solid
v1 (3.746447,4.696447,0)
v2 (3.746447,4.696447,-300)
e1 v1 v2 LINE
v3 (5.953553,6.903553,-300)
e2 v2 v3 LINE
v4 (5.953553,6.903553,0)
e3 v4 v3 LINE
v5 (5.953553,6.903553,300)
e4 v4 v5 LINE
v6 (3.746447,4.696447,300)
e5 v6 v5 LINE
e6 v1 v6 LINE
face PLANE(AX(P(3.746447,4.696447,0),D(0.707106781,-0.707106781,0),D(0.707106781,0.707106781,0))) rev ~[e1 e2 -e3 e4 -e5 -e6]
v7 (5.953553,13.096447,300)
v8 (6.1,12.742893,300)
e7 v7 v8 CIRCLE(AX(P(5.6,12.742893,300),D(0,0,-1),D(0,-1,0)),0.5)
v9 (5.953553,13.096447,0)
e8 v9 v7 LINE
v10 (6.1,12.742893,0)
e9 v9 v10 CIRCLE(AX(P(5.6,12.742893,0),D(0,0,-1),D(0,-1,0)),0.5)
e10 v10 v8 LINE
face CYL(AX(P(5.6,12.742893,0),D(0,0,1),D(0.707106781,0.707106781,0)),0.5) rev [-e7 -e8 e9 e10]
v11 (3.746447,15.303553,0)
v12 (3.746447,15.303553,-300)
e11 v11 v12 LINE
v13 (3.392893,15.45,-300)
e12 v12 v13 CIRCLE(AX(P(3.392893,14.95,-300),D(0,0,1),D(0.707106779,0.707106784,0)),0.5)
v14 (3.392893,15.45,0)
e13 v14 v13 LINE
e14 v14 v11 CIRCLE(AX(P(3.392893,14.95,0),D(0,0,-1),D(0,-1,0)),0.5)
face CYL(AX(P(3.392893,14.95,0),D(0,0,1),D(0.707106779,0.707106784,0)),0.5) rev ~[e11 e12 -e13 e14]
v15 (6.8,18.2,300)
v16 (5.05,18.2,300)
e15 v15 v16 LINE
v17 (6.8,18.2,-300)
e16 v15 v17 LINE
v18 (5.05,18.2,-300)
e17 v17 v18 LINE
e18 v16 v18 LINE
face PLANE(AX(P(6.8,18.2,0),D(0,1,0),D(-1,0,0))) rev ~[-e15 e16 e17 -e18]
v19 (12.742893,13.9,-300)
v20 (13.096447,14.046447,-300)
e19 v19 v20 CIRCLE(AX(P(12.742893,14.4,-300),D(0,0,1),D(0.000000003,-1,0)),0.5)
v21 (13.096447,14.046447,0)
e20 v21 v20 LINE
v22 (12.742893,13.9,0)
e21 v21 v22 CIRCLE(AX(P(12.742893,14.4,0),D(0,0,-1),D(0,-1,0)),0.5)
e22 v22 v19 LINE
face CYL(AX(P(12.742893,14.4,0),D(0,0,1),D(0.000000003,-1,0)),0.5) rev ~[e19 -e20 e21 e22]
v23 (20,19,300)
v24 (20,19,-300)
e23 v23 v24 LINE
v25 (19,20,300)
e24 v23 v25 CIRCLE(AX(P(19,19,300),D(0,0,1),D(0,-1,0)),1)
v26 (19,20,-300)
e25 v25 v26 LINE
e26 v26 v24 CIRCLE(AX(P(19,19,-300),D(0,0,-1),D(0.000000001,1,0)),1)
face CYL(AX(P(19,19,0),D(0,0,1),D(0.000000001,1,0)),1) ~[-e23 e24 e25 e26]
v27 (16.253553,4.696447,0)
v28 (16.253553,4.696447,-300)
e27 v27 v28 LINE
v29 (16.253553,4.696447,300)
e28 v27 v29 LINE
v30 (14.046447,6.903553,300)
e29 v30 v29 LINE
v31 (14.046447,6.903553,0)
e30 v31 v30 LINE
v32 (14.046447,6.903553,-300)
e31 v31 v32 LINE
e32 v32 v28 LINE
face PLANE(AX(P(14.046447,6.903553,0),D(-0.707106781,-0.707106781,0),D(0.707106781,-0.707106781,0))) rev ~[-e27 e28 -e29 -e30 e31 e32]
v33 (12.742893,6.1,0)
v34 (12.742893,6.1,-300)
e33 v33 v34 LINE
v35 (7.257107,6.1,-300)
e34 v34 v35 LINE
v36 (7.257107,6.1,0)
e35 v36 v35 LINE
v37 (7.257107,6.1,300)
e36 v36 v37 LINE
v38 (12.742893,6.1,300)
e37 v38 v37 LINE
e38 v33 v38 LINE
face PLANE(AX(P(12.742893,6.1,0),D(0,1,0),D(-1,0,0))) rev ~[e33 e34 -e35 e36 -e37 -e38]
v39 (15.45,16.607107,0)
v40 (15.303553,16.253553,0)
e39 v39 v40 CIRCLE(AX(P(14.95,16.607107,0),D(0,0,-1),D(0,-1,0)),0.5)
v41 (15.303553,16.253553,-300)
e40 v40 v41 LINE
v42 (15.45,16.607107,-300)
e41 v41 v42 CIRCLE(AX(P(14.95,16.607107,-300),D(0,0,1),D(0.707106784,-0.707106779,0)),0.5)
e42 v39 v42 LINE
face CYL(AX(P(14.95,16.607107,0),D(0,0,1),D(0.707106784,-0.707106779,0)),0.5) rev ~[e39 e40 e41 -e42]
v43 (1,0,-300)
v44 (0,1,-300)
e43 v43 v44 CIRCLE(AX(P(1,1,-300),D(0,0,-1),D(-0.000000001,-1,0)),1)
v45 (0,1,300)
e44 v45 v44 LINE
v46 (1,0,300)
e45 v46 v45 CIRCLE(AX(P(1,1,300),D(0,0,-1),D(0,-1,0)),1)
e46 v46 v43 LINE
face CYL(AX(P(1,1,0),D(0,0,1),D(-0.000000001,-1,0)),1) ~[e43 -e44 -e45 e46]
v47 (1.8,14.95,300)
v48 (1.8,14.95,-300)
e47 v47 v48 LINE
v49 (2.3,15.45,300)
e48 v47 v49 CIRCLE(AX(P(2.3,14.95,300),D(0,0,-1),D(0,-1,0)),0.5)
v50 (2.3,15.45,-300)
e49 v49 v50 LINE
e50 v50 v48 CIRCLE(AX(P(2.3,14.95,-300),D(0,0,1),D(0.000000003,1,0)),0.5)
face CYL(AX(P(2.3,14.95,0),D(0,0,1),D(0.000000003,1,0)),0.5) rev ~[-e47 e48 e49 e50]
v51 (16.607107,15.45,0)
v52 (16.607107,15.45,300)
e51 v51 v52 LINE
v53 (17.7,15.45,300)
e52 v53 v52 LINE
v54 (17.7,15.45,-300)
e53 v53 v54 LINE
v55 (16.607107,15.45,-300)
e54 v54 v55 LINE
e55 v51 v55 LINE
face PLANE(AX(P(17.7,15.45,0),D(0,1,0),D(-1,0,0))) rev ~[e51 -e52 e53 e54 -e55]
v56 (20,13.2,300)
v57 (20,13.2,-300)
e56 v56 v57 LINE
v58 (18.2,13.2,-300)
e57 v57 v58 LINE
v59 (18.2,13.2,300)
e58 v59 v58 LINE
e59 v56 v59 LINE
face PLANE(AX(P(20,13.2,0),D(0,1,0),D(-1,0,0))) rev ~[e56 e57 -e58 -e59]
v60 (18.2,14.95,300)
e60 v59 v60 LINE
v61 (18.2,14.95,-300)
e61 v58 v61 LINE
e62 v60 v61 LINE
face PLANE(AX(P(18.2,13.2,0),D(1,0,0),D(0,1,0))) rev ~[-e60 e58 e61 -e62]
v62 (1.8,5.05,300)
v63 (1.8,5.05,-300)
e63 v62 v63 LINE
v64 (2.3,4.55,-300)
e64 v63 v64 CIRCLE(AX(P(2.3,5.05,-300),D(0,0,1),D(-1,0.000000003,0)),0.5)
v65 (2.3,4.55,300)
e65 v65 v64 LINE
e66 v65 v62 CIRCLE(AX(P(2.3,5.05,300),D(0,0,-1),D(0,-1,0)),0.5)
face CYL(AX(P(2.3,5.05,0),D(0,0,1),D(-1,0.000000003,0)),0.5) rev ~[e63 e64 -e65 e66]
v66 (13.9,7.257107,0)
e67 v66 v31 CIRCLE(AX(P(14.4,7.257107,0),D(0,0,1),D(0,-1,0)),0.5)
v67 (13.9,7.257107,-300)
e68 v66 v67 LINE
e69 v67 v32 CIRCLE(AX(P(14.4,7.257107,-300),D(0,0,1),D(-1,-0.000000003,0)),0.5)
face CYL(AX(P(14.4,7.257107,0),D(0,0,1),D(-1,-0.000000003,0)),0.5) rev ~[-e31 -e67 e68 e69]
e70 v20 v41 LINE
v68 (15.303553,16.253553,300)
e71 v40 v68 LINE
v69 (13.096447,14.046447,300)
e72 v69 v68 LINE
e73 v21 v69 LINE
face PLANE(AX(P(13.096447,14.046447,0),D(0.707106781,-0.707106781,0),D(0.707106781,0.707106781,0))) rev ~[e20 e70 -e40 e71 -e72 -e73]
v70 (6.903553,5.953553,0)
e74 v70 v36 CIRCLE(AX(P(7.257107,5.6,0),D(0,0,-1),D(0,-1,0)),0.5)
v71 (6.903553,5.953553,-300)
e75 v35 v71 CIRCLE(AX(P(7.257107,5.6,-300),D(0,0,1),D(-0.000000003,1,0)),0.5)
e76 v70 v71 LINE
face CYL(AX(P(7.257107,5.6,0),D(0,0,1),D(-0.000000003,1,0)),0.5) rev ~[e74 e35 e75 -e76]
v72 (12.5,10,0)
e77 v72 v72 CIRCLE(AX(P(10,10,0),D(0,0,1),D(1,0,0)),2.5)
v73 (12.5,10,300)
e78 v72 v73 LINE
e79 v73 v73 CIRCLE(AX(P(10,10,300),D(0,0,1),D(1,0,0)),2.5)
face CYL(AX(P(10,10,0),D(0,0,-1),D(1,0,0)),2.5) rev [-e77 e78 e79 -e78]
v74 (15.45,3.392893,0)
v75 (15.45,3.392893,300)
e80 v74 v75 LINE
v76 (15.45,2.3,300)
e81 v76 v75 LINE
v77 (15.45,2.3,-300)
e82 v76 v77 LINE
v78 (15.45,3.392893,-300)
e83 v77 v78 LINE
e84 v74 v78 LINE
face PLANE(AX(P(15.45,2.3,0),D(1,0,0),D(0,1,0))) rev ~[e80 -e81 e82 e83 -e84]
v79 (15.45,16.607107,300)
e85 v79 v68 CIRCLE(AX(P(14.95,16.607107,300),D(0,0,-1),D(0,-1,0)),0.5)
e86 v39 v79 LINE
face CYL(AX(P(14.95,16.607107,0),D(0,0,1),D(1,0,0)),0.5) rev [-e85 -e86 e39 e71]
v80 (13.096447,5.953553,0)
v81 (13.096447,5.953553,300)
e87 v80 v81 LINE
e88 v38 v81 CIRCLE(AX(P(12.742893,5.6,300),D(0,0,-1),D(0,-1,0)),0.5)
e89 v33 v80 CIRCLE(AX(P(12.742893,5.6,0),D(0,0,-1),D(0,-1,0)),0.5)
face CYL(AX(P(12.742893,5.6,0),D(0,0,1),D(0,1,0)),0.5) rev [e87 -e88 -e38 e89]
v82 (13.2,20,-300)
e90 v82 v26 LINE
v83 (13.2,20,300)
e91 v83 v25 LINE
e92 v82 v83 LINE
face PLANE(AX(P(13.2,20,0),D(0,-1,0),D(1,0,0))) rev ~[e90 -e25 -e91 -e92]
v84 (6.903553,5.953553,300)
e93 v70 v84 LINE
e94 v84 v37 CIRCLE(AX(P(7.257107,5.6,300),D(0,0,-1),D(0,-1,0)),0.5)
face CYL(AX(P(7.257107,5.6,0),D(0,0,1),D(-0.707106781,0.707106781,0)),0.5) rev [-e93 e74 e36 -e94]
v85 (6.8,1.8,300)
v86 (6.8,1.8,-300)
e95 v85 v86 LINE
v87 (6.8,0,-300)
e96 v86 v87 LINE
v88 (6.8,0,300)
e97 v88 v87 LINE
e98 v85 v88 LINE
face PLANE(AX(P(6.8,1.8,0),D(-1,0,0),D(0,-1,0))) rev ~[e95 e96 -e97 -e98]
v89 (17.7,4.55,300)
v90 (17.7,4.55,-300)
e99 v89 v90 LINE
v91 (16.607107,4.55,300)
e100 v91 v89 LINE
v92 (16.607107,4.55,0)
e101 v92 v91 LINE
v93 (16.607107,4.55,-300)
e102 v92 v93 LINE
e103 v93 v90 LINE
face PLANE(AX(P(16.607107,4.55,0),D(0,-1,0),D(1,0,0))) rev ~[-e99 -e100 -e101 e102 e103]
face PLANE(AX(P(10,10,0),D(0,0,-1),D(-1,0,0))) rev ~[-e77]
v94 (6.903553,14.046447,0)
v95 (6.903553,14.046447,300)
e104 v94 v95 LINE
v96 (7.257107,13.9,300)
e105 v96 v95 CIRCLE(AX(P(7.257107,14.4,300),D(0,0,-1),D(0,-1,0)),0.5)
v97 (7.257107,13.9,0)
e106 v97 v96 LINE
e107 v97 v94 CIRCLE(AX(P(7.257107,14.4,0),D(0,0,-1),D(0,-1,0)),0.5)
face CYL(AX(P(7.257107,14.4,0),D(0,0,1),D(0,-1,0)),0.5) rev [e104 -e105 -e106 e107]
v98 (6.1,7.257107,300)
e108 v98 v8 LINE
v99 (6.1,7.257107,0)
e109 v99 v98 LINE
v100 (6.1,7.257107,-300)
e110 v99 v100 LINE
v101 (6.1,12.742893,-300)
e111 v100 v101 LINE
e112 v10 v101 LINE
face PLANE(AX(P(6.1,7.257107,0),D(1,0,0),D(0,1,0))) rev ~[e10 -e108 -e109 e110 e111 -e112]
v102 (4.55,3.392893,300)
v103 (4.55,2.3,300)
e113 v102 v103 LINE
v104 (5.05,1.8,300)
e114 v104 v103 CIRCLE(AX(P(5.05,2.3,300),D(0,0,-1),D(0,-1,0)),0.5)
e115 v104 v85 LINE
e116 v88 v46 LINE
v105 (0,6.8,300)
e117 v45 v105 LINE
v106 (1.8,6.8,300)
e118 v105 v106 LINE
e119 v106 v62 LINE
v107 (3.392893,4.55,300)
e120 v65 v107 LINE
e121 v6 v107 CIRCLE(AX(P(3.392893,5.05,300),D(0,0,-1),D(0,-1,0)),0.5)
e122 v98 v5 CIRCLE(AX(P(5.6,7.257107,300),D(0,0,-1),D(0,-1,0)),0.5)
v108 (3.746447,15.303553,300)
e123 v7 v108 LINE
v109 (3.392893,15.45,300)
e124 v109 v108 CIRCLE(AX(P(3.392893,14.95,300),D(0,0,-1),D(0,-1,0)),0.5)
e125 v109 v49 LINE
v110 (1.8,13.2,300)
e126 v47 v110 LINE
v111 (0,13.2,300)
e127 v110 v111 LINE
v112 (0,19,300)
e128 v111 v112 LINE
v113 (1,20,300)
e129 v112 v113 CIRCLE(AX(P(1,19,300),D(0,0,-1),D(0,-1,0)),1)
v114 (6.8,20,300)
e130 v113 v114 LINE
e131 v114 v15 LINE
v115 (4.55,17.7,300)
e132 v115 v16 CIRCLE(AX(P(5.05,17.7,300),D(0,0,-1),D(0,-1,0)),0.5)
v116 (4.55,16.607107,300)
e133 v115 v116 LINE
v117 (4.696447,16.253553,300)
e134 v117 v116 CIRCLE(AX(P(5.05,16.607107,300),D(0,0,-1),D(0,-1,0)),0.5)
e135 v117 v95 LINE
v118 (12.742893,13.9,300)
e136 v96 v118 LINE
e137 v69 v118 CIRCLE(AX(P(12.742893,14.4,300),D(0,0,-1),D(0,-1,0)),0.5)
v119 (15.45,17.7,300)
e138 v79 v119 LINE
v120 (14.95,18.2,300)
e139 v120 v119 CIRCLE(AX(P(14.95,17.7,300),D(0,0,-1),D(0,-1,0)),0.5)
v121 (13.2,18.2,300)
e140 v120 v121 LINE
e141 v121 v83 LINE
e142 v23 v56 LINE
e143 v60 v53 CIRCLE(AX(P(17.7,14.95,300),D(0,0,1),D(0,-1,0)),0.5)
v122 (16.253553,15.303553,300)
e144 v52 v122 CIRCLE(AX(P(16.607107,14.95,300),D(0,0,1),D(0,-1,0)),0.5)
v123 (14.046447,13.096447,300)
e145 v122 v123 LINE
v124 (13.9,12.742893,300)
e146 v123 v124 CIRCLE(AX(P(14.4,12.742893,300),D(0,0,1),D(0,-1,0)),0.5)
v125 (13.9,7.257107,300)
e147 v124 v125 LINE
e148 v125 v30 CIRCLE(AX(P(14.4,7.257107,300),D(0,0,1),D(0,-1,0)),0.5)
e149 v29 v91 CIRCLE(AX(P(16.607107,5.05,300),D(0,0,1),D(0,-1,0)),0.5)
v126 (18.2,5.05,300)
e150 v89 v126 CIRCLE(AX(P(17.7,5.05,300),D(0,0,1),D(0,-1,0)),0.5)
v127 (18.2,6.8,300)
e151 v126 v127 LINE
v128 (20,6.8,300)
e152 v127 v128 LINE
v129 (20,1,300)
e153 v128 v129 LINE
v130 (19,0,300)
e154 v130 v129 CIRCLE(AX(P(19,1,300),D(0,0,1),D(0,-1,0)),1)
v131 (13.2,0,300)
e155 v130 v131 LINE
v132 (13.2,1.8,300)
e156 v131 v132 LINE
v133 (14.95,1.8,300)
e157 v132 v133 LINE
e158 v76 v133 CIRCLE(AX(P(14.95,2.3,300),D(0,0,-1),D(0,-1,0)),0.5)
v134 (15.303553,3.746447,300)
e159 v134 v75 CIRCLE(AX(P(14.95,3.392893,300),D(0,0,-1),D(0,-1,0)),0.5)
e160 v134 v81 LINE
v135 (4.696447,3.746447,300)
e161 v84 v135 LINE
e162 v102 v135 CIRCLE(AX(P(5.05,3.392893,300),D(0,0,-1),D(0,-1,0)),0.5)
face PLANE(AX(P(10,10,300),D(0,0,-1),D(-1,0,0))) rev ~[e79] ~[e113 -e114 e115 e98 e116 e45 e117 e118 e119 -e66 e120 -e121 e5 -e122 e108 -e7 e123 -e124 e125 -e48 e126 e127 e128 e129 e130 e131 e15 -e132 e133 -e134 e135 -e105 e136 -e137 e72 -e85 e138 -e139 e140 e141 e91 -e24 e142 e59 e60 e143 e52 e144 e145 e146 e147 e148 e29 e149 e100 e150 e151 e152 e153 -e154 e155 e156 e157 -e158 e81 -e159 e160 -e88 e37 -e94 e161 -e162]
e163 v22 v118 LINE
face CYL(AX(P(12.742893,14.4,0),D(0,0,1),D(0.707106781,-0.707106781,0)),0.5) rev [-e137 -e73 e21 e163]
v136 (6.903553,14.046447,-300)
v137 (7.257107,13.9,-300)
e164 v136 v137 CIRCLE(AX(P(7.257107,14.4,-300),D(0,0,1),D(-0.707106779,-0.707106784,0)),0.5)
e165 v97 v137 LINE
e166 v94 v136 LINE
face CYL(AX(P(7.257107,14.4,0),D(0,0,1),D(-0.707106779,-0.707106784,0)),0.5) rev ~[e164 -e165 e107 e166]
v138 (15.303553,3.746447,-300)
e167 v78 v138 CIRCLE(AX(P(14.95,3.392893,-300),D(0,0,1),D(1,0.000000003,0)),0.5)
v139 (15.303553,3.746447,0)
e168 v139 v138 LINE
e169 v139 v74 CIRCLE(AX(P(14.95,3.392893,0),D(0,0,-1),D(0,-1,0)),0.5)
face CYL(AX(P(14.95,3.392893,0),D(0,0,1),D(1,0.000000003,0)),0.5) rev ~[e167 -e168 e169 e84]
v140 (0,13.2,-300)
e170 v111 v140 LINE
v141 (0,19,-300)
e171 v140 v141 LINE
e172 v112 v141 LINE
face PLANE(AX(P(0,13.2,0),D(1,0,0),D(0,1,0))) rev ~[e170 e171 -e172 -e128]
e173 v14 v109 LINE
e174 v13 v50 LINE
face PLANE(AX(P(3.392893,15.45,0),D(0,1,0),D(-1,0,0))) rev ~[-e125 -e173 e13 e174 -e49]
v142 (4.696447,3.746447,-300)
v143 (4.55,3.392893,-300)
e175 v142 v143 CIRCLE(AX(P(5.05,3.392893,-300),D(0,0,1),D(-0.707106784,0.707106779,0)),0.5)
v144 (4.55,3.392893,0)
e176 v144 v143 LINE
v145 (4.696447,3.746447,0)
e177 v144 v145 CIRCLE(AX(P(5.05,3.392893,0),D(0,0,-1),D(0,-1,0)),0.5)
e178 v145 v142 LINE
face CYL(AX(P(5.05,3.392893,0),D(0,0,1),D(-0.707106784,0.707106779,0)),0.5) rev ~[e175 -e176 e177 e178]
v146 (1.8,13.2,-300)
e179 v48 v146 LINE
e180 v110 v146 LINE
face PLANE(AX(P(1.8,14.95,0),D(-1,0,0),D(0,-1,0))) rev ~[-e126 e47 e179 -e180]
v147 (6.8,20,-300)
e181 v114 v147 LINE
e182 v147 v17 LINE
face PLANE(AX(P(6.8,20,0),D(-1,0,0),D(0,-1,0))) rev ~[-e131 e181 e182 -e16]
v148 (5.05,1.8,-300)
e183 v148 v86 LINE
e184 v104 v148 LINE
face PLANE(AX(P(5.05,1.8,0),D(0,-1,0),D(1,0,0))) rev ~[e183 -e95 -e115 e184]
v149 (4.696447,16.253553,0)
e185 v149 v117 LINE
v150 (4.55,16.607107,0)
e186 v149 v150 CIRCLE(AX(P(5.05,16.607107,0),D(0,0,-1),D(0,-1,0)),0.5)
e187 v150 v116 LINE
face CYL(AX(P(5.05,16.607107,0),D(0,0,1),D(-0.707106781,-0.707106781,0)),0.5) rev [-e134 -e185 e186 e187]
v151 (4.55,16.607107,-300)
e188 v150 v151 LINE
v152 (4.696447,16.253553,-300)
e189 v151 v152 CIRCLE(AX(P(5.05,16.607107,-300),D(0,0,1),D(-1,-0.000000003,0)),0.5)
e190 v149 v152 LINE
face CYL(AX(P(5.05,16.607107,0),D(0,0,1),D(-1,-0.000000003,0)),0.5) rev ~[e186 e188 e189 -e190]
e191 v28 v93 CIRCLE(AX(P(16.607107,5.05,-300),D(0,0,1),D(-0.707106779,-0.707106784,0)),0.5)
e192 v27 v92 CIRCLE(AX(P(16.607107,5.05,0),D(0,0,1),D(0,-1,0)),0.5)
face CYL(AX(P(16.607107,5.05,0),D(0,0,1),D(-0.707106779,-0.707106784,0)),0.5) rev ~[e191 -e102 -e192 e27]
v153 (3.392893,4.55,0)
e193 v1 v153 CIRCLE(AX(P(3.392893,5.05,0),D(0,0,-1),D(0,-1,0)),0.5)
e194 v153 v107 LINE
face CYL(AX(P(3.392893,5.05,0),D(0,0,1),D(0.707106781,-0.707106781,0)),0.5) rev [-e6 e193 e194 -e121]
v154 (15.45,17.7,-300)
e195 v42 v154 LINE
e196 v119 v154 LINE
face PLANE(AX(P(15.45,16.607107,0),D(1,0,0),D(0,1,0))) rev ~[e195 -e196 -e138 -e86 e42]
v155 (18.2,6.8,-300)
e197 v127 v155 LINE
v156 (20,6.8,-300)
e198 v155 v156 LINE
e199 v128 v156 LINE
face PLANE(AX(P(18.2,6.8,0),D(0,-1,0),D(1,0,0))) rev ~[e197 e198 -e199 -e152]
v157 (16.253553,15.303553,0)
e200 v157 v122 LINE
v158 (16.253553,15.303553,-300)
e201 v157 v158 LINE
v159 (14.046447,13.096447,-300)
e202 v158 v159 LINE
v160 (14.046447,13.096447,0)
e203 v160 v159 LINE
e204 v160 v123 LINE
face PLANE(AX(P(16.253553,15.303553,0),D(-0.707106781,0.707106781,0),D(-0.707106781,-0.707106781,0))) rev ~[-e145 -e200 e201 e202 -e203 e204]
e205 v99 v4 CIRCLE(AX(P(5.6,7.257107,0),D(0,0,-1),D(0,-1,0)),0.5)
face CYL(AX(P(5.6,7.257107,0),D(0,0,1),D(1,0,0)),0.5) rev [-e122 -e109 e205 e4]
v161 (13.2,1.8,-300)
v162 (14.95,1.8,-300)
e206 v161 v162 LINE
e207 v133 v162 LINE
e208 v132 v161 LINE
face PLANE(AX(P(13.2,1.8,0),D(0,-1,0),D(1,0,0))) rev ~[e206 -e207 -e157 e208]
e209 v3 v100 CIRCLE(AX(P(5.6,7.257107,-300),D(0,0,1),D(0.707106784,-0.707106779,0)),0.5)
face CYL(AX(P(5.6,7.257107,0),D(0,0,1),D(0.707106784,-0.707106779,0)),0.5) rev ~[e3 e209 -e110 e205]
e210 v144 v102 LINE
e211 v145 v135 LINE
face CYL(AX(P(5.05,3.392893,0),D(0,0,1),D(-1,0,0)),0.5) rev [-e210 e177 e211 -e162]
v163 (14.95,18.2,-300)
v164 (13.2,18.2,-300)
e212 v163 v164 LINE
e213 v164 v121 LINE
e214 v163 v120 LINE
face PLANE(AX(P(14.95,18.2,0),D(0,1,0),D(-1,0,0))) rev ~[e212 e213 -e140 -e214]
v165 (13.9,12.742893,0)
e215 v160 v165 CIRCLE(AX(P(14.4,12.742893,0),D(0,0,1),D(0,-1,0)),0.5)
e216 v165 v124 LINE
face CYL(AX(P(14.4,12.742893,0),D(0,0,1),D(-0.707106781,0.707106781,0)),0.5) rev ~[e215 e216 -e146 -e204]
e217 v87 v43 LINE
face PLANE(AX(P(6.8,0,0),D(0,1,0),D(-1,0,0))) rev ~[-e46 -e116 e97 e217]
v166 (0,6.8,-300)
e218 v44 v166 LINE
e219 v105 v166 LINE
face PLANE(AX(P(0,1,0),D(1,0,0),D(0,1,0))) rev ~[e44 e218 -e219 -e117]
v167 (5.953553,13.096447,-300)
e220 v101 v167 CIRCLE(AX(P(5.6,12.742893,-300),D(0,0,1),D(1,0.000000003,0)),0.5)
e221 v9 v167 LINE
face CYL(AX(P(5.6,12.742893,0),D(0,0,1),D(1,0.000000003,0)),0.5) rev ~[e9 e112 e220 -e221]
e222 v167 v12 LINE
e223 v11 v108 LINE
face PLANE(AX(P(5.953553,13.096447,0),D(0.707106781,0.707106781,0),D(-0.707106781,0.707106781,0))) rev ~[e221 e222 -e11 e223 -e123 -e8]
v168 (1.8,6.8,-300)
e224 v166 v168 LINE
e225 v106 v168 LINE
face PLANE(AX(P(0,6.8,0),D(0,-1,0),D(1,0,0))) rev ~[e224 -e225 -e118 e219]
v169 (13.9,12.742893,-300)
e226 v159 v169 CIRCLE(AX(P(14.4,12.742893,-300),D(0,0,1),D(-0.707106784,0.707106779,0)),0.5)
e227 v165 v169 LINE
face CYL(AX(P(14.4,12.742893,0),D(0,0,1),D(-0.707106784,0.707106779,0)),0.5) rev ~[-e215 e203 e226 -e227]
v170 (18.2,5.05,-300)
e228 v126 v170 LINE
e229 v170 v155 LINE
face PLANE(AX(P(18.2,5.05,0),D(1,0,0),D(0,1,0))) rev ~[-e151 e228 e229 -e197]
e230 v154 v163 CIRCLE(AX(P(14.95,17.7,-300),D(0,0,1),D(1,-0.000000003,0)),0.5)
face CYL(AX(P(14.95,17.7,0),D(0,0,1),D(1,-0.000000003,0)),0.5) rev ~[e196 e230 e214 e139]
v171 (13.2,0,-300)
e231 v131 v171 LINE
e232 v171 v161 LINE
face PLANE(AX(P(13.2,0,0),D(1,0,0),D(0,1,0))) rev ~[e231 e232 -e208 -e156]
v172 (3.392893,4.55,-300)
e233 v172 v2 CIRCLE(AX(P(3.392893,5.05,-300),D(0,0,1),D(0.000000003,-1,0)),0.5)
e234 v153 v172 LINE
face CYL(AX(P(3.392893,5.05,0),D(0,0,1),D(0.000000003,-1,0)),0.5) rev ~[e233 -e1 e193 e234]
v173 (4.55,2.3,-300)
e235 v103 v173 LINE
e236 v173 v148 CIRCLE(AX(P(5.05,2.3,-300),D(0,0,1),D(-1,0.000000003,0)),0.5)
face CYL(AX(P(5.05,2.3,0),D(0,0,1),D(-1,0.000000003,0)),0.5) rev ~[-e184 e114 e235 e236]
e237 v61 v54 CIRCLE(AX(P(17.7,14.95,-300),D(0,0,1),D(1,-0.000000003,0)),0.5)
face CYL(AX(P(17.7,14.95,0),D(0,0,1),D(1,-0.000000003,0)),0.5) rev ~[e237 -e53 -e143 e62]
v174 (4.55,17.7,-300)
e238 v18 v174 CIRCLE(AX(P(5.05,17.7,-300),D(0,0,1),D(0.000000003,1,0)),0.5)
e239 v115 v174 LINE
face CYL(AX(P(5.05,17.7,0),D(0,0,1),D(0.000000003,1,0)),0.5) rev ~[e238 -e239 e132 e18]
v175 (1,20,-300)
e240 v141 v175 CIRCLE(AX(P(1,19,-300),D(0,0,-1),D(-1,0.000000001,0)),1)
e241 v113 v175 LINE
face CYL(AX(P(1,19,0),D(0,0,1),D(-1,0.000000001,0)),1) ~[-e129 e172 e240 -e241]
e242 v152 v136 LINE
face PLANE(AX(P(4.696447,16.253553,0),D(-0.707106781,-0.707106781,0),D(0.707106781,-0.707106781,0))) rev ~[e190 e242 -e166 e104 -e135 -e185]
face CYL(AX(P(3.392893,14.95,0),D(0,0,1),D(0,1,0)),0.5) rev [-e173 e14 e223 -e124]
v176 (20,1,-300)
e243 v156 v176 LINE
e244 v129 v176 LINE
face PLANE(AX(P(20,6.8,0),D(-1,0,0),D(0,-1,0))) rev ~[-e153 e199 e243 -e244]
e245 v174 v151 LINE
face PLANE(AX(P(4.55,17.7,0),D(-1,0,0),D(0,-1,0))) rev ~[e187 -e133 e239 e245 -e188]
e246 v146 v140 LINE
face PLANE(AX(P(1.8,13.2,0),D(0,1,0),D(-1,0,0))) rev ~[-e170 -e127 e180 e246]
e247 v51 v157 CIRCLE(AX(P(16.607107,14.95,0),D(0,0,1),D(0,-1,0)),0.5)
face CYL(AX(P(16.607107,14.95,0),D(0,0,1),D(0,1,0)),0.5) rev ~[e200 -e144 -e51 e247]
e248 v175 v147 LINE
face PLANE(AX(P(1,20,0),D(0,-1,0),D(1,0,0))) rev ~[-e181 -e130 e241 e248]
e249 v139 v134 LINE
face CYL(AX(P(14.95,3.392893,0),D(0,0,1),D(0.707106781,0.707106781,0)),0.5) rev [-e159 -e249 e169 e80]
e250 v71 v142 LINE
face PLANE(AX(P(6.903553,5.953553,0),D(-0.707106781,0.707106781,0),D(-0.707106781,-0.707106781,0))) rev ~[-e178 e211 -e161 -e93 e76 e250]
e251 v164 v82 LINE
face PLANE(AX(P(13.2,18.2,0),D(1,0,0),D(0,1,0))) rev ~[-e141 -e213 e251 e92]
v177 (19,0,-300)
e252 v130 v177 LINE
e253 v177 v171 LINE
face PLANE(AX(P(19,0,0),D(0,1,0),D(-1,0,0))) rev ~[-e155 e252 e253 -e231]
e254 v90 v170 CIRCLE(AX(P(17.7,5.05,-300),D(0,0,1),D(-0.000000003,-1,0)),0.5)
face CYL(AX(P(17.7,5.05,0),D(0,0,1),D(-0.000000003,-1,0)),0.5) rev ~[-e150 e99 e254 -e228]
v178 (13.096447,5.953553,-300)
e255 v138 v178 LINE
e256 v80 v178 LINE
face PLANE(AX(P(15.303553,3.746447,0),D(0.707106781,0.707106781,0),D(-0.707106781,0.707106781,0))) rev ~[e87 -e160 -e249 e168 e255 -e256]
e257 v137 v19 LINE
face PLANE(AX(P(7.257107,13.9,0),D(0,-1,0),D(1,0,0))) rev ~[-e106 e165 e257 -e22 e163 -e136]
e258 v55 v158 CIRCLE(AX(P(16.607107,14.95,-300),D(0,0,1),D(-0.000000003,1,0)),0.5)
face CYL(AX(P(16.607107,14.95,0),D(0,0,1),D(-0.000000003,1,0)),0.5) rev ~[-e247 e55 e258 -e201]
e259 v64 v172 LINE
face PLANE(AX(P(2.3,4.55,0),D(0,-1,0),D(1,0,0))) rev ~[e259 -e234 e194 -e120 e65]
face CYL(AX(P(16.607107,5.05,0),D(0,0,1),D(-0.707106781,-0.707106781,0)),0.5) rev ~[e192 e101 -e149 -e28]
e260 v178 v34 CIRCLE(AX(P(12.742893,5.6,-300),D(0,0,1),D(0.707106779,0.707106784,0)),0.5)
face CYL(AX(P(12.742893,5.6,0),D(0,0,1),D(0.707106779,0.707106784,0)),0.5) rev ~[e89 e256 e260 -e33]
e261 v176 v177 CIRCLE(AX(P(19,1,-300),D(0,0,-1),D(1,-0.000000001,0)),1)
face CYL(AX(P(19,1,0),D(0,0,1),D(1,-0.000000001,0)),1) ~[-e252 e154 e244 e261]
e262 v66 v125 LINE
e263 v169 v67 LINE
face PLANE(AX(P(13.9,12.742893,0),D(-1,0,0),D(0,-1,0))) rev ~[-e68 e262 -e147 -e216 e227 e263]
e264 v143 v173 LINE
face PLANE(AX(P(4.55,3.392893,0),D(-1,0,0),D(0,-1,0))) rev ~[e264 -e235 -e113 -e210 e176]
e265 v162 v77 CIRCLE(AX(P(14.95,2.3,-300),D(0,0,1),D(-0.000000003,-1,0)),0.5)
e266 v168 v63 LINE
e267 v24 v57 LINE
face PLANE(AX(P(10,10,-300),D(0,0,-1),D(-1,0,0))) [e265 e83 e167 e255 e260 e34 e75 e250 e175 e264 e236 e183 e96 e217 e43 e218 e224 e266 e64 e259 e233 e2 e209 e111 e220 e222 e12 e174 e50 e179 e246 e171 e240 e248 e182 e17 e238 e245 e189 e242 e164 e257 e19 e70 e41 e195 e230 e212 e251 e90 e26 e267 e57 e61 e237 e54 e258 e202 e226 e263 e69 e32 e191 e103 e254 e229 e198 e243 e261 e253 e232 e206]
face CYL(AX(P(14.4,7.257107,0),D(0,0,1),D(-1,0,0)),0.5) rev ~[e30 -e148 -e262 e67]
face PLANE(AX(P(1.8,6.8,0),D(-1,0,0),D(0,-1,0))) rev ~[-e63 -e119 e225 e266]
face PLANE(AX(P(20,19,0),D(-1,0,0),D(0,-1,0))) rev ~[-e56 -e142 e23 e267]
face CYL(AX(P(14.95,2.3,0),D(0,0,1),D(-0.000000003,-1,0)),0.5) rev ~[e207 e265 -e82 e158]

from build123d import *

# Parameters (mm, degrees)
SKETCH1_R           = 2.5
BOSS_EXTRUDE1_DEPTH = 300
FILLET1_R           = 1
FILLET2_R           = 0.5
FILLET3_R           = 0.5
FILLET4_R           = 0.5
FILLET5_R           = 0.5
BOSS_EXTRUDE2_DEPTH = 300


with BuildPart() as part:
    # Sketch1 → Boss-Extrude1 (new body)
    with BuildSketch(Plane.XY):
        Polygon((13.2, 0), (13.2, 1.8), (15.45, 1.8), (15.45, 3.6), (12.95, 6.1), (7.05, 6.1), (4.55, 3.6), (4.55, 1.8), (6.8, 1.8), (6.8, 0), (0, 0), (0, 6.8), (1.8, 6.8), (1.8, 4.55), (3.6, 4.55), (6.1, 7.05), (6.1, 12.95), (3.6, 15.45), (1.8, 15.45), (1.8, 13.2), (0, 13.2), (0, 20), (6.8, 20), (6.8, 18.2), (4.55, 18.2), (4.55, 16.4), (7.05, 13.9), (12.95, 13.9), (15.45, 16.4), (15.45, 18.2), (13.2, 18.2), (13.2, 20), (20, 20), (20, 13.2), (18.2, 13.2), (18.2, 15.45), (16.4, 15.45), (13.9, 12.95), (13.9, 7.05), (16.4, 4.55), (18.2, 4.55), (18.2, 6.8), (20, 6.8), (20, 0), align=None)
        with Locations((10, 10)):
            Circle(SKETCH1_R, mode=Mode.SUBTRACT)
    extrude(amount=BOSS_EXTRUDE1_DEPTH)

    # Fillet1
    fillet1_edges = [part.edges().sort_by_distance(p)[0] for p in [
        (0, 0, 150),
        (0, 20, 150),
        (20, 20, 150),
        (20, 0, 150),
    ]]
    fillet(fillet1_edges, radius=FILLET1_R)

    # Fillet2
    fillet2_edges = [part.edges().sort_by_distance(p)[0] for p in [
        (4.55, 18.2, 150),
        (4.55, 16.4, 150),
        (7.05, 13.9, 150),
        (12.95, 13.9, 150),
        (15.45, 16.4, 150),
        (15.45, 18.2, 150),
    ]]
    fillet(fillet2_edges, radius=FILLET2_R)

    # Fillet3
    fillet3_edges = [part.edges().sort_by_distance(p)[0] for p in [
        (18.2, 15.45, 150),
        (16.4, 15.45, 150),
        (13.9, 12.95, 150),
        (13.9, 7.05, 150),
        (16.4, 4.55, 150),
        (18.2, 4.55, 150),
    ]]
    fillet(fillet3_edges, radius=FILLET3_R)

    # Fillet4
    fillet4_edges = [part.edges().sort_by_distance(p)[0] for p in [
        (1.8, 4.55, 150),
        (3.6, 4.55, 150),
        (6.1, 7.05, 150),
        (6.1, 12.95, 150),
        (3.6, 15.45, 150),
        (1.8, 15.45, 150),
    ]]
    fillet(fillet4_edges, radius=FILLET4_R)

    # Fillet5
    fillet5_edges = [part.edges().sort_by_distance(p)[0] for p in [
        (15.45, 1.8, 150),
        (15.45, 3.6, 150),
        (12.95, 6.1, 150),
        (7.05, 6.1, 150),
        (4.55, 3.6, 150),
        (4.55, 1.8, 150),
    ]]
    fillet(fillet5_edges, radius=FILLET5_R)

    # Sketch4 → Boss-Extrude2 (add)
    with BuildSketch(Plane(origin=(0, 0, 0), x_dir=(-1, 0, 0), z_dir=(0, 0, -1))):
        with BuildLine():
            Line((-13.2, 20), (-19, 20))
            ThreePointArc((-19, 20), (-19.707106781, 19.707106781), (-20, 19))
            Line((-20, 19), (-20, 13.2))
            Line((-20, 13.2), (-18.2, 13.2))
            Line((-18.2, 13.2), (-18.2, 14.95))
            ThreePointArc((-18.2, 14.95), (-18.053553391, 15.303553391), (-17.7, 15.45))
            Line((-17.7, 15.45), (-16.607106781, 15.45))
            ThreePointArc((-16.607106781, 15.45), (-16.415765065, 15.411939766), (-16.253553391, 15.303553391))
            Line((-16.253553391, 15.303553391), (-14.046446609, 13.096446609))
            ThreePointArc((-14.046446609, 13.096446609), (-13.938060234, 12.934234935), (-13.9, 12.742893219))
            Line((-13.9, 12.742893219), (-13.9, 7.257106781))
            ThreePointArc((-13.9, 7.257106781), (-13.938060234, 7.065765065), (-14.046446609, 6.903553391))
            Line((-14.046446609, 6.903553391), (-16.253553391, 4.696446609))
            ThreePointArc((-16.253553391, 4.696446609), (-16.415765065, 4.588060234), (-16.607106781, 4.55))
            Line((-16.607106781, 4.55), (-17.7, 4.55))
            ThreePointArc((-17.7, 4.55), (-18.053553391, 4.696446609), (-18.2, 5.05))
            Line((-18.2, 5.05), (-18.2, 6.8))
            Line((-18.2, 6.8), (-20, 6.8))
            Line((-20, 6.8), (-20, 1))
            ThreePointArc((-20, 1), (-19.707106781, 0.292893219), (-19, 0))
            Line((-19, 0), (-13.2, 0))
            Line((-13.2, 0), (-13.2, 1.8))
            Line((-13.2, 1.8), (-14.95, 1.8))
            ThreePointArc((-14.95, 1.8), (-15.303553391, 1.946446609), (-15.45, 2.3))
            Line((-15.45, 2.3), (-15.45, 3.392893219))
            ThreePointArc((-15.45, 3.392893219), (-15.411939766, 3.584234935), (-15.303553391, 3.746446609))
            Line((-15.303553391, 3.746446609), (-13.096446609, 5.953553391))
            ThreePointArc((-13.096446609, 5.953553391), (-12.934234935, 6.061939766), (-12.742893219, 6.1))
            Line((-12.742893219, 6.1), (-7.257106781, 6.1))
            ThreePointArc((-7.257106781, 6.1), (-7.065765065, 6.061939766), (-6.903553391, 5.953553391))
            Line((-6.903553391, 5.953553391), (-4.696446609, 3.746446609))
            ThreePointArc((-4.696446609, 3.746446609), (-4.588060234, 3.584234935), (-4.55, 3.392893219))
            Line((-4.55, 3.392893219), (-4.55, 2.3))
            ThreePointArc((-4.55, 2.3), (-4.696446609, 1.946446609), (-5.05, 1.8))
            Line((-5.05, 1.8), (-6.8, 1.8))
            Line((-6.8, 1.8), (-6.8, 0))
            Line((-6.8, 0), (-1, 0))
            ThreePointArc((-1, 0), (-0.292893219, 0.292893219), (0, 1))
            Line((0, 1), (0, 6.8))
            Line((0, 6.8), (-1.8, 6.8))
            Line((-1.8, 6.8), (-1.8, 5.05))
            ThreePointArc((-1.8, 5.05), (-1.946446609, 4.696446609), (-2.3, 4.55))
            Line((-2.3, 4.55), (-3.392893219, 4.55))
            ThreePointArc((-3.392893219, 4.55), (-3.584234935, 4.588060234), (-3.746446609, 4.696446609))
            Line((-3.746446609, 4.696446609), (-5.953553391, 6.903553391))
            ThreePointArc((-5.953553391, 6.903553391), (-6.061939766, 7.065765065), (-6.1, 7.257106781))
            Line((-6.1, 7.257106781), (-6.1, 12.742893219))
            ThreePointArc((-6.1, 12.742893219), (-6.061939766, 12.934234935), (-5.953553391, 13.096446609))
            Line((-5.953553391, 13.096446609), (-3.746446609, 15.303553391))
            ThreePointArc((-3.746446609, 15.303553391), (-3.584234935, 15.411939766), (-3.392893219, 15.45))
            Line((-3.392893219, 15.45), (-2.3, 15.45))
            ThreePointArc((-2.3, 15.45), (-1.946446609, 15.303553391), (-1.8, 14.95))
            Line((-1.8, 14.95), (-1.8, 13.2))
            Line((-1.8, 13.2), (0, 13.2))
            Line((0, 13.2), (0, 19))
            ThreePointArc((0, 19), (-0.292893219, 19.707106781), (-1, 20))
            Line((-1, 20), (-6.8, 20))
            Line((-6.8, 20), (-6.8, 18.2))
            Line((-6.8, 18.2), (-5.05, 18.2))
            ThreePointArc((-5.05, 18.2), (-4.696446609, 18.053553391), (-4.55, 17.7))
            Line((-4.55, 17.7), (-4.55, 16.607106781))
            ThreePointArc((-4.55, 16.607106781), (-4.588060234, 16.415765065), (-4.696446609, 16.253553391))
            Line((-4.696446609, 16.253553391), (-6.903553391, 14.046446609))
            ThreePointArc((-6.903553391, 14.046446609), (-7.065765065, 13.938060234), (-7.257106781, 13.9))
            Line((-7.257106781, 13.9), (-12.742893219, 13.9))
            ThreePointArc((-12.742893219, 13.9), (-12.934234935, 13.938060234), (-13.096446609, 14.046446609))
            Line((-13.096446609, 14.046446609), (-15.303553391, 16.253553391))
            ThreePointArc((-15.303553391, 16.253553391), (-15.411939766, 16.415765065), (-15.45, 16.607106781))
            Line((-15.45, 16.607106781), (-15.45, 17.7))
            ThreePointArc((-15.45, 17.7), (-15.303553391, 18.053553391), (-14.95, 18.2))
            Line((-14.95, 18.2), (-13.2, 18.2))
            Line((-13.2, 18.2), (-13.2, 20))
        make_face()
    extrude(amount=BOSS_EXTRUDE2_DEPTH)


solid = part.part
